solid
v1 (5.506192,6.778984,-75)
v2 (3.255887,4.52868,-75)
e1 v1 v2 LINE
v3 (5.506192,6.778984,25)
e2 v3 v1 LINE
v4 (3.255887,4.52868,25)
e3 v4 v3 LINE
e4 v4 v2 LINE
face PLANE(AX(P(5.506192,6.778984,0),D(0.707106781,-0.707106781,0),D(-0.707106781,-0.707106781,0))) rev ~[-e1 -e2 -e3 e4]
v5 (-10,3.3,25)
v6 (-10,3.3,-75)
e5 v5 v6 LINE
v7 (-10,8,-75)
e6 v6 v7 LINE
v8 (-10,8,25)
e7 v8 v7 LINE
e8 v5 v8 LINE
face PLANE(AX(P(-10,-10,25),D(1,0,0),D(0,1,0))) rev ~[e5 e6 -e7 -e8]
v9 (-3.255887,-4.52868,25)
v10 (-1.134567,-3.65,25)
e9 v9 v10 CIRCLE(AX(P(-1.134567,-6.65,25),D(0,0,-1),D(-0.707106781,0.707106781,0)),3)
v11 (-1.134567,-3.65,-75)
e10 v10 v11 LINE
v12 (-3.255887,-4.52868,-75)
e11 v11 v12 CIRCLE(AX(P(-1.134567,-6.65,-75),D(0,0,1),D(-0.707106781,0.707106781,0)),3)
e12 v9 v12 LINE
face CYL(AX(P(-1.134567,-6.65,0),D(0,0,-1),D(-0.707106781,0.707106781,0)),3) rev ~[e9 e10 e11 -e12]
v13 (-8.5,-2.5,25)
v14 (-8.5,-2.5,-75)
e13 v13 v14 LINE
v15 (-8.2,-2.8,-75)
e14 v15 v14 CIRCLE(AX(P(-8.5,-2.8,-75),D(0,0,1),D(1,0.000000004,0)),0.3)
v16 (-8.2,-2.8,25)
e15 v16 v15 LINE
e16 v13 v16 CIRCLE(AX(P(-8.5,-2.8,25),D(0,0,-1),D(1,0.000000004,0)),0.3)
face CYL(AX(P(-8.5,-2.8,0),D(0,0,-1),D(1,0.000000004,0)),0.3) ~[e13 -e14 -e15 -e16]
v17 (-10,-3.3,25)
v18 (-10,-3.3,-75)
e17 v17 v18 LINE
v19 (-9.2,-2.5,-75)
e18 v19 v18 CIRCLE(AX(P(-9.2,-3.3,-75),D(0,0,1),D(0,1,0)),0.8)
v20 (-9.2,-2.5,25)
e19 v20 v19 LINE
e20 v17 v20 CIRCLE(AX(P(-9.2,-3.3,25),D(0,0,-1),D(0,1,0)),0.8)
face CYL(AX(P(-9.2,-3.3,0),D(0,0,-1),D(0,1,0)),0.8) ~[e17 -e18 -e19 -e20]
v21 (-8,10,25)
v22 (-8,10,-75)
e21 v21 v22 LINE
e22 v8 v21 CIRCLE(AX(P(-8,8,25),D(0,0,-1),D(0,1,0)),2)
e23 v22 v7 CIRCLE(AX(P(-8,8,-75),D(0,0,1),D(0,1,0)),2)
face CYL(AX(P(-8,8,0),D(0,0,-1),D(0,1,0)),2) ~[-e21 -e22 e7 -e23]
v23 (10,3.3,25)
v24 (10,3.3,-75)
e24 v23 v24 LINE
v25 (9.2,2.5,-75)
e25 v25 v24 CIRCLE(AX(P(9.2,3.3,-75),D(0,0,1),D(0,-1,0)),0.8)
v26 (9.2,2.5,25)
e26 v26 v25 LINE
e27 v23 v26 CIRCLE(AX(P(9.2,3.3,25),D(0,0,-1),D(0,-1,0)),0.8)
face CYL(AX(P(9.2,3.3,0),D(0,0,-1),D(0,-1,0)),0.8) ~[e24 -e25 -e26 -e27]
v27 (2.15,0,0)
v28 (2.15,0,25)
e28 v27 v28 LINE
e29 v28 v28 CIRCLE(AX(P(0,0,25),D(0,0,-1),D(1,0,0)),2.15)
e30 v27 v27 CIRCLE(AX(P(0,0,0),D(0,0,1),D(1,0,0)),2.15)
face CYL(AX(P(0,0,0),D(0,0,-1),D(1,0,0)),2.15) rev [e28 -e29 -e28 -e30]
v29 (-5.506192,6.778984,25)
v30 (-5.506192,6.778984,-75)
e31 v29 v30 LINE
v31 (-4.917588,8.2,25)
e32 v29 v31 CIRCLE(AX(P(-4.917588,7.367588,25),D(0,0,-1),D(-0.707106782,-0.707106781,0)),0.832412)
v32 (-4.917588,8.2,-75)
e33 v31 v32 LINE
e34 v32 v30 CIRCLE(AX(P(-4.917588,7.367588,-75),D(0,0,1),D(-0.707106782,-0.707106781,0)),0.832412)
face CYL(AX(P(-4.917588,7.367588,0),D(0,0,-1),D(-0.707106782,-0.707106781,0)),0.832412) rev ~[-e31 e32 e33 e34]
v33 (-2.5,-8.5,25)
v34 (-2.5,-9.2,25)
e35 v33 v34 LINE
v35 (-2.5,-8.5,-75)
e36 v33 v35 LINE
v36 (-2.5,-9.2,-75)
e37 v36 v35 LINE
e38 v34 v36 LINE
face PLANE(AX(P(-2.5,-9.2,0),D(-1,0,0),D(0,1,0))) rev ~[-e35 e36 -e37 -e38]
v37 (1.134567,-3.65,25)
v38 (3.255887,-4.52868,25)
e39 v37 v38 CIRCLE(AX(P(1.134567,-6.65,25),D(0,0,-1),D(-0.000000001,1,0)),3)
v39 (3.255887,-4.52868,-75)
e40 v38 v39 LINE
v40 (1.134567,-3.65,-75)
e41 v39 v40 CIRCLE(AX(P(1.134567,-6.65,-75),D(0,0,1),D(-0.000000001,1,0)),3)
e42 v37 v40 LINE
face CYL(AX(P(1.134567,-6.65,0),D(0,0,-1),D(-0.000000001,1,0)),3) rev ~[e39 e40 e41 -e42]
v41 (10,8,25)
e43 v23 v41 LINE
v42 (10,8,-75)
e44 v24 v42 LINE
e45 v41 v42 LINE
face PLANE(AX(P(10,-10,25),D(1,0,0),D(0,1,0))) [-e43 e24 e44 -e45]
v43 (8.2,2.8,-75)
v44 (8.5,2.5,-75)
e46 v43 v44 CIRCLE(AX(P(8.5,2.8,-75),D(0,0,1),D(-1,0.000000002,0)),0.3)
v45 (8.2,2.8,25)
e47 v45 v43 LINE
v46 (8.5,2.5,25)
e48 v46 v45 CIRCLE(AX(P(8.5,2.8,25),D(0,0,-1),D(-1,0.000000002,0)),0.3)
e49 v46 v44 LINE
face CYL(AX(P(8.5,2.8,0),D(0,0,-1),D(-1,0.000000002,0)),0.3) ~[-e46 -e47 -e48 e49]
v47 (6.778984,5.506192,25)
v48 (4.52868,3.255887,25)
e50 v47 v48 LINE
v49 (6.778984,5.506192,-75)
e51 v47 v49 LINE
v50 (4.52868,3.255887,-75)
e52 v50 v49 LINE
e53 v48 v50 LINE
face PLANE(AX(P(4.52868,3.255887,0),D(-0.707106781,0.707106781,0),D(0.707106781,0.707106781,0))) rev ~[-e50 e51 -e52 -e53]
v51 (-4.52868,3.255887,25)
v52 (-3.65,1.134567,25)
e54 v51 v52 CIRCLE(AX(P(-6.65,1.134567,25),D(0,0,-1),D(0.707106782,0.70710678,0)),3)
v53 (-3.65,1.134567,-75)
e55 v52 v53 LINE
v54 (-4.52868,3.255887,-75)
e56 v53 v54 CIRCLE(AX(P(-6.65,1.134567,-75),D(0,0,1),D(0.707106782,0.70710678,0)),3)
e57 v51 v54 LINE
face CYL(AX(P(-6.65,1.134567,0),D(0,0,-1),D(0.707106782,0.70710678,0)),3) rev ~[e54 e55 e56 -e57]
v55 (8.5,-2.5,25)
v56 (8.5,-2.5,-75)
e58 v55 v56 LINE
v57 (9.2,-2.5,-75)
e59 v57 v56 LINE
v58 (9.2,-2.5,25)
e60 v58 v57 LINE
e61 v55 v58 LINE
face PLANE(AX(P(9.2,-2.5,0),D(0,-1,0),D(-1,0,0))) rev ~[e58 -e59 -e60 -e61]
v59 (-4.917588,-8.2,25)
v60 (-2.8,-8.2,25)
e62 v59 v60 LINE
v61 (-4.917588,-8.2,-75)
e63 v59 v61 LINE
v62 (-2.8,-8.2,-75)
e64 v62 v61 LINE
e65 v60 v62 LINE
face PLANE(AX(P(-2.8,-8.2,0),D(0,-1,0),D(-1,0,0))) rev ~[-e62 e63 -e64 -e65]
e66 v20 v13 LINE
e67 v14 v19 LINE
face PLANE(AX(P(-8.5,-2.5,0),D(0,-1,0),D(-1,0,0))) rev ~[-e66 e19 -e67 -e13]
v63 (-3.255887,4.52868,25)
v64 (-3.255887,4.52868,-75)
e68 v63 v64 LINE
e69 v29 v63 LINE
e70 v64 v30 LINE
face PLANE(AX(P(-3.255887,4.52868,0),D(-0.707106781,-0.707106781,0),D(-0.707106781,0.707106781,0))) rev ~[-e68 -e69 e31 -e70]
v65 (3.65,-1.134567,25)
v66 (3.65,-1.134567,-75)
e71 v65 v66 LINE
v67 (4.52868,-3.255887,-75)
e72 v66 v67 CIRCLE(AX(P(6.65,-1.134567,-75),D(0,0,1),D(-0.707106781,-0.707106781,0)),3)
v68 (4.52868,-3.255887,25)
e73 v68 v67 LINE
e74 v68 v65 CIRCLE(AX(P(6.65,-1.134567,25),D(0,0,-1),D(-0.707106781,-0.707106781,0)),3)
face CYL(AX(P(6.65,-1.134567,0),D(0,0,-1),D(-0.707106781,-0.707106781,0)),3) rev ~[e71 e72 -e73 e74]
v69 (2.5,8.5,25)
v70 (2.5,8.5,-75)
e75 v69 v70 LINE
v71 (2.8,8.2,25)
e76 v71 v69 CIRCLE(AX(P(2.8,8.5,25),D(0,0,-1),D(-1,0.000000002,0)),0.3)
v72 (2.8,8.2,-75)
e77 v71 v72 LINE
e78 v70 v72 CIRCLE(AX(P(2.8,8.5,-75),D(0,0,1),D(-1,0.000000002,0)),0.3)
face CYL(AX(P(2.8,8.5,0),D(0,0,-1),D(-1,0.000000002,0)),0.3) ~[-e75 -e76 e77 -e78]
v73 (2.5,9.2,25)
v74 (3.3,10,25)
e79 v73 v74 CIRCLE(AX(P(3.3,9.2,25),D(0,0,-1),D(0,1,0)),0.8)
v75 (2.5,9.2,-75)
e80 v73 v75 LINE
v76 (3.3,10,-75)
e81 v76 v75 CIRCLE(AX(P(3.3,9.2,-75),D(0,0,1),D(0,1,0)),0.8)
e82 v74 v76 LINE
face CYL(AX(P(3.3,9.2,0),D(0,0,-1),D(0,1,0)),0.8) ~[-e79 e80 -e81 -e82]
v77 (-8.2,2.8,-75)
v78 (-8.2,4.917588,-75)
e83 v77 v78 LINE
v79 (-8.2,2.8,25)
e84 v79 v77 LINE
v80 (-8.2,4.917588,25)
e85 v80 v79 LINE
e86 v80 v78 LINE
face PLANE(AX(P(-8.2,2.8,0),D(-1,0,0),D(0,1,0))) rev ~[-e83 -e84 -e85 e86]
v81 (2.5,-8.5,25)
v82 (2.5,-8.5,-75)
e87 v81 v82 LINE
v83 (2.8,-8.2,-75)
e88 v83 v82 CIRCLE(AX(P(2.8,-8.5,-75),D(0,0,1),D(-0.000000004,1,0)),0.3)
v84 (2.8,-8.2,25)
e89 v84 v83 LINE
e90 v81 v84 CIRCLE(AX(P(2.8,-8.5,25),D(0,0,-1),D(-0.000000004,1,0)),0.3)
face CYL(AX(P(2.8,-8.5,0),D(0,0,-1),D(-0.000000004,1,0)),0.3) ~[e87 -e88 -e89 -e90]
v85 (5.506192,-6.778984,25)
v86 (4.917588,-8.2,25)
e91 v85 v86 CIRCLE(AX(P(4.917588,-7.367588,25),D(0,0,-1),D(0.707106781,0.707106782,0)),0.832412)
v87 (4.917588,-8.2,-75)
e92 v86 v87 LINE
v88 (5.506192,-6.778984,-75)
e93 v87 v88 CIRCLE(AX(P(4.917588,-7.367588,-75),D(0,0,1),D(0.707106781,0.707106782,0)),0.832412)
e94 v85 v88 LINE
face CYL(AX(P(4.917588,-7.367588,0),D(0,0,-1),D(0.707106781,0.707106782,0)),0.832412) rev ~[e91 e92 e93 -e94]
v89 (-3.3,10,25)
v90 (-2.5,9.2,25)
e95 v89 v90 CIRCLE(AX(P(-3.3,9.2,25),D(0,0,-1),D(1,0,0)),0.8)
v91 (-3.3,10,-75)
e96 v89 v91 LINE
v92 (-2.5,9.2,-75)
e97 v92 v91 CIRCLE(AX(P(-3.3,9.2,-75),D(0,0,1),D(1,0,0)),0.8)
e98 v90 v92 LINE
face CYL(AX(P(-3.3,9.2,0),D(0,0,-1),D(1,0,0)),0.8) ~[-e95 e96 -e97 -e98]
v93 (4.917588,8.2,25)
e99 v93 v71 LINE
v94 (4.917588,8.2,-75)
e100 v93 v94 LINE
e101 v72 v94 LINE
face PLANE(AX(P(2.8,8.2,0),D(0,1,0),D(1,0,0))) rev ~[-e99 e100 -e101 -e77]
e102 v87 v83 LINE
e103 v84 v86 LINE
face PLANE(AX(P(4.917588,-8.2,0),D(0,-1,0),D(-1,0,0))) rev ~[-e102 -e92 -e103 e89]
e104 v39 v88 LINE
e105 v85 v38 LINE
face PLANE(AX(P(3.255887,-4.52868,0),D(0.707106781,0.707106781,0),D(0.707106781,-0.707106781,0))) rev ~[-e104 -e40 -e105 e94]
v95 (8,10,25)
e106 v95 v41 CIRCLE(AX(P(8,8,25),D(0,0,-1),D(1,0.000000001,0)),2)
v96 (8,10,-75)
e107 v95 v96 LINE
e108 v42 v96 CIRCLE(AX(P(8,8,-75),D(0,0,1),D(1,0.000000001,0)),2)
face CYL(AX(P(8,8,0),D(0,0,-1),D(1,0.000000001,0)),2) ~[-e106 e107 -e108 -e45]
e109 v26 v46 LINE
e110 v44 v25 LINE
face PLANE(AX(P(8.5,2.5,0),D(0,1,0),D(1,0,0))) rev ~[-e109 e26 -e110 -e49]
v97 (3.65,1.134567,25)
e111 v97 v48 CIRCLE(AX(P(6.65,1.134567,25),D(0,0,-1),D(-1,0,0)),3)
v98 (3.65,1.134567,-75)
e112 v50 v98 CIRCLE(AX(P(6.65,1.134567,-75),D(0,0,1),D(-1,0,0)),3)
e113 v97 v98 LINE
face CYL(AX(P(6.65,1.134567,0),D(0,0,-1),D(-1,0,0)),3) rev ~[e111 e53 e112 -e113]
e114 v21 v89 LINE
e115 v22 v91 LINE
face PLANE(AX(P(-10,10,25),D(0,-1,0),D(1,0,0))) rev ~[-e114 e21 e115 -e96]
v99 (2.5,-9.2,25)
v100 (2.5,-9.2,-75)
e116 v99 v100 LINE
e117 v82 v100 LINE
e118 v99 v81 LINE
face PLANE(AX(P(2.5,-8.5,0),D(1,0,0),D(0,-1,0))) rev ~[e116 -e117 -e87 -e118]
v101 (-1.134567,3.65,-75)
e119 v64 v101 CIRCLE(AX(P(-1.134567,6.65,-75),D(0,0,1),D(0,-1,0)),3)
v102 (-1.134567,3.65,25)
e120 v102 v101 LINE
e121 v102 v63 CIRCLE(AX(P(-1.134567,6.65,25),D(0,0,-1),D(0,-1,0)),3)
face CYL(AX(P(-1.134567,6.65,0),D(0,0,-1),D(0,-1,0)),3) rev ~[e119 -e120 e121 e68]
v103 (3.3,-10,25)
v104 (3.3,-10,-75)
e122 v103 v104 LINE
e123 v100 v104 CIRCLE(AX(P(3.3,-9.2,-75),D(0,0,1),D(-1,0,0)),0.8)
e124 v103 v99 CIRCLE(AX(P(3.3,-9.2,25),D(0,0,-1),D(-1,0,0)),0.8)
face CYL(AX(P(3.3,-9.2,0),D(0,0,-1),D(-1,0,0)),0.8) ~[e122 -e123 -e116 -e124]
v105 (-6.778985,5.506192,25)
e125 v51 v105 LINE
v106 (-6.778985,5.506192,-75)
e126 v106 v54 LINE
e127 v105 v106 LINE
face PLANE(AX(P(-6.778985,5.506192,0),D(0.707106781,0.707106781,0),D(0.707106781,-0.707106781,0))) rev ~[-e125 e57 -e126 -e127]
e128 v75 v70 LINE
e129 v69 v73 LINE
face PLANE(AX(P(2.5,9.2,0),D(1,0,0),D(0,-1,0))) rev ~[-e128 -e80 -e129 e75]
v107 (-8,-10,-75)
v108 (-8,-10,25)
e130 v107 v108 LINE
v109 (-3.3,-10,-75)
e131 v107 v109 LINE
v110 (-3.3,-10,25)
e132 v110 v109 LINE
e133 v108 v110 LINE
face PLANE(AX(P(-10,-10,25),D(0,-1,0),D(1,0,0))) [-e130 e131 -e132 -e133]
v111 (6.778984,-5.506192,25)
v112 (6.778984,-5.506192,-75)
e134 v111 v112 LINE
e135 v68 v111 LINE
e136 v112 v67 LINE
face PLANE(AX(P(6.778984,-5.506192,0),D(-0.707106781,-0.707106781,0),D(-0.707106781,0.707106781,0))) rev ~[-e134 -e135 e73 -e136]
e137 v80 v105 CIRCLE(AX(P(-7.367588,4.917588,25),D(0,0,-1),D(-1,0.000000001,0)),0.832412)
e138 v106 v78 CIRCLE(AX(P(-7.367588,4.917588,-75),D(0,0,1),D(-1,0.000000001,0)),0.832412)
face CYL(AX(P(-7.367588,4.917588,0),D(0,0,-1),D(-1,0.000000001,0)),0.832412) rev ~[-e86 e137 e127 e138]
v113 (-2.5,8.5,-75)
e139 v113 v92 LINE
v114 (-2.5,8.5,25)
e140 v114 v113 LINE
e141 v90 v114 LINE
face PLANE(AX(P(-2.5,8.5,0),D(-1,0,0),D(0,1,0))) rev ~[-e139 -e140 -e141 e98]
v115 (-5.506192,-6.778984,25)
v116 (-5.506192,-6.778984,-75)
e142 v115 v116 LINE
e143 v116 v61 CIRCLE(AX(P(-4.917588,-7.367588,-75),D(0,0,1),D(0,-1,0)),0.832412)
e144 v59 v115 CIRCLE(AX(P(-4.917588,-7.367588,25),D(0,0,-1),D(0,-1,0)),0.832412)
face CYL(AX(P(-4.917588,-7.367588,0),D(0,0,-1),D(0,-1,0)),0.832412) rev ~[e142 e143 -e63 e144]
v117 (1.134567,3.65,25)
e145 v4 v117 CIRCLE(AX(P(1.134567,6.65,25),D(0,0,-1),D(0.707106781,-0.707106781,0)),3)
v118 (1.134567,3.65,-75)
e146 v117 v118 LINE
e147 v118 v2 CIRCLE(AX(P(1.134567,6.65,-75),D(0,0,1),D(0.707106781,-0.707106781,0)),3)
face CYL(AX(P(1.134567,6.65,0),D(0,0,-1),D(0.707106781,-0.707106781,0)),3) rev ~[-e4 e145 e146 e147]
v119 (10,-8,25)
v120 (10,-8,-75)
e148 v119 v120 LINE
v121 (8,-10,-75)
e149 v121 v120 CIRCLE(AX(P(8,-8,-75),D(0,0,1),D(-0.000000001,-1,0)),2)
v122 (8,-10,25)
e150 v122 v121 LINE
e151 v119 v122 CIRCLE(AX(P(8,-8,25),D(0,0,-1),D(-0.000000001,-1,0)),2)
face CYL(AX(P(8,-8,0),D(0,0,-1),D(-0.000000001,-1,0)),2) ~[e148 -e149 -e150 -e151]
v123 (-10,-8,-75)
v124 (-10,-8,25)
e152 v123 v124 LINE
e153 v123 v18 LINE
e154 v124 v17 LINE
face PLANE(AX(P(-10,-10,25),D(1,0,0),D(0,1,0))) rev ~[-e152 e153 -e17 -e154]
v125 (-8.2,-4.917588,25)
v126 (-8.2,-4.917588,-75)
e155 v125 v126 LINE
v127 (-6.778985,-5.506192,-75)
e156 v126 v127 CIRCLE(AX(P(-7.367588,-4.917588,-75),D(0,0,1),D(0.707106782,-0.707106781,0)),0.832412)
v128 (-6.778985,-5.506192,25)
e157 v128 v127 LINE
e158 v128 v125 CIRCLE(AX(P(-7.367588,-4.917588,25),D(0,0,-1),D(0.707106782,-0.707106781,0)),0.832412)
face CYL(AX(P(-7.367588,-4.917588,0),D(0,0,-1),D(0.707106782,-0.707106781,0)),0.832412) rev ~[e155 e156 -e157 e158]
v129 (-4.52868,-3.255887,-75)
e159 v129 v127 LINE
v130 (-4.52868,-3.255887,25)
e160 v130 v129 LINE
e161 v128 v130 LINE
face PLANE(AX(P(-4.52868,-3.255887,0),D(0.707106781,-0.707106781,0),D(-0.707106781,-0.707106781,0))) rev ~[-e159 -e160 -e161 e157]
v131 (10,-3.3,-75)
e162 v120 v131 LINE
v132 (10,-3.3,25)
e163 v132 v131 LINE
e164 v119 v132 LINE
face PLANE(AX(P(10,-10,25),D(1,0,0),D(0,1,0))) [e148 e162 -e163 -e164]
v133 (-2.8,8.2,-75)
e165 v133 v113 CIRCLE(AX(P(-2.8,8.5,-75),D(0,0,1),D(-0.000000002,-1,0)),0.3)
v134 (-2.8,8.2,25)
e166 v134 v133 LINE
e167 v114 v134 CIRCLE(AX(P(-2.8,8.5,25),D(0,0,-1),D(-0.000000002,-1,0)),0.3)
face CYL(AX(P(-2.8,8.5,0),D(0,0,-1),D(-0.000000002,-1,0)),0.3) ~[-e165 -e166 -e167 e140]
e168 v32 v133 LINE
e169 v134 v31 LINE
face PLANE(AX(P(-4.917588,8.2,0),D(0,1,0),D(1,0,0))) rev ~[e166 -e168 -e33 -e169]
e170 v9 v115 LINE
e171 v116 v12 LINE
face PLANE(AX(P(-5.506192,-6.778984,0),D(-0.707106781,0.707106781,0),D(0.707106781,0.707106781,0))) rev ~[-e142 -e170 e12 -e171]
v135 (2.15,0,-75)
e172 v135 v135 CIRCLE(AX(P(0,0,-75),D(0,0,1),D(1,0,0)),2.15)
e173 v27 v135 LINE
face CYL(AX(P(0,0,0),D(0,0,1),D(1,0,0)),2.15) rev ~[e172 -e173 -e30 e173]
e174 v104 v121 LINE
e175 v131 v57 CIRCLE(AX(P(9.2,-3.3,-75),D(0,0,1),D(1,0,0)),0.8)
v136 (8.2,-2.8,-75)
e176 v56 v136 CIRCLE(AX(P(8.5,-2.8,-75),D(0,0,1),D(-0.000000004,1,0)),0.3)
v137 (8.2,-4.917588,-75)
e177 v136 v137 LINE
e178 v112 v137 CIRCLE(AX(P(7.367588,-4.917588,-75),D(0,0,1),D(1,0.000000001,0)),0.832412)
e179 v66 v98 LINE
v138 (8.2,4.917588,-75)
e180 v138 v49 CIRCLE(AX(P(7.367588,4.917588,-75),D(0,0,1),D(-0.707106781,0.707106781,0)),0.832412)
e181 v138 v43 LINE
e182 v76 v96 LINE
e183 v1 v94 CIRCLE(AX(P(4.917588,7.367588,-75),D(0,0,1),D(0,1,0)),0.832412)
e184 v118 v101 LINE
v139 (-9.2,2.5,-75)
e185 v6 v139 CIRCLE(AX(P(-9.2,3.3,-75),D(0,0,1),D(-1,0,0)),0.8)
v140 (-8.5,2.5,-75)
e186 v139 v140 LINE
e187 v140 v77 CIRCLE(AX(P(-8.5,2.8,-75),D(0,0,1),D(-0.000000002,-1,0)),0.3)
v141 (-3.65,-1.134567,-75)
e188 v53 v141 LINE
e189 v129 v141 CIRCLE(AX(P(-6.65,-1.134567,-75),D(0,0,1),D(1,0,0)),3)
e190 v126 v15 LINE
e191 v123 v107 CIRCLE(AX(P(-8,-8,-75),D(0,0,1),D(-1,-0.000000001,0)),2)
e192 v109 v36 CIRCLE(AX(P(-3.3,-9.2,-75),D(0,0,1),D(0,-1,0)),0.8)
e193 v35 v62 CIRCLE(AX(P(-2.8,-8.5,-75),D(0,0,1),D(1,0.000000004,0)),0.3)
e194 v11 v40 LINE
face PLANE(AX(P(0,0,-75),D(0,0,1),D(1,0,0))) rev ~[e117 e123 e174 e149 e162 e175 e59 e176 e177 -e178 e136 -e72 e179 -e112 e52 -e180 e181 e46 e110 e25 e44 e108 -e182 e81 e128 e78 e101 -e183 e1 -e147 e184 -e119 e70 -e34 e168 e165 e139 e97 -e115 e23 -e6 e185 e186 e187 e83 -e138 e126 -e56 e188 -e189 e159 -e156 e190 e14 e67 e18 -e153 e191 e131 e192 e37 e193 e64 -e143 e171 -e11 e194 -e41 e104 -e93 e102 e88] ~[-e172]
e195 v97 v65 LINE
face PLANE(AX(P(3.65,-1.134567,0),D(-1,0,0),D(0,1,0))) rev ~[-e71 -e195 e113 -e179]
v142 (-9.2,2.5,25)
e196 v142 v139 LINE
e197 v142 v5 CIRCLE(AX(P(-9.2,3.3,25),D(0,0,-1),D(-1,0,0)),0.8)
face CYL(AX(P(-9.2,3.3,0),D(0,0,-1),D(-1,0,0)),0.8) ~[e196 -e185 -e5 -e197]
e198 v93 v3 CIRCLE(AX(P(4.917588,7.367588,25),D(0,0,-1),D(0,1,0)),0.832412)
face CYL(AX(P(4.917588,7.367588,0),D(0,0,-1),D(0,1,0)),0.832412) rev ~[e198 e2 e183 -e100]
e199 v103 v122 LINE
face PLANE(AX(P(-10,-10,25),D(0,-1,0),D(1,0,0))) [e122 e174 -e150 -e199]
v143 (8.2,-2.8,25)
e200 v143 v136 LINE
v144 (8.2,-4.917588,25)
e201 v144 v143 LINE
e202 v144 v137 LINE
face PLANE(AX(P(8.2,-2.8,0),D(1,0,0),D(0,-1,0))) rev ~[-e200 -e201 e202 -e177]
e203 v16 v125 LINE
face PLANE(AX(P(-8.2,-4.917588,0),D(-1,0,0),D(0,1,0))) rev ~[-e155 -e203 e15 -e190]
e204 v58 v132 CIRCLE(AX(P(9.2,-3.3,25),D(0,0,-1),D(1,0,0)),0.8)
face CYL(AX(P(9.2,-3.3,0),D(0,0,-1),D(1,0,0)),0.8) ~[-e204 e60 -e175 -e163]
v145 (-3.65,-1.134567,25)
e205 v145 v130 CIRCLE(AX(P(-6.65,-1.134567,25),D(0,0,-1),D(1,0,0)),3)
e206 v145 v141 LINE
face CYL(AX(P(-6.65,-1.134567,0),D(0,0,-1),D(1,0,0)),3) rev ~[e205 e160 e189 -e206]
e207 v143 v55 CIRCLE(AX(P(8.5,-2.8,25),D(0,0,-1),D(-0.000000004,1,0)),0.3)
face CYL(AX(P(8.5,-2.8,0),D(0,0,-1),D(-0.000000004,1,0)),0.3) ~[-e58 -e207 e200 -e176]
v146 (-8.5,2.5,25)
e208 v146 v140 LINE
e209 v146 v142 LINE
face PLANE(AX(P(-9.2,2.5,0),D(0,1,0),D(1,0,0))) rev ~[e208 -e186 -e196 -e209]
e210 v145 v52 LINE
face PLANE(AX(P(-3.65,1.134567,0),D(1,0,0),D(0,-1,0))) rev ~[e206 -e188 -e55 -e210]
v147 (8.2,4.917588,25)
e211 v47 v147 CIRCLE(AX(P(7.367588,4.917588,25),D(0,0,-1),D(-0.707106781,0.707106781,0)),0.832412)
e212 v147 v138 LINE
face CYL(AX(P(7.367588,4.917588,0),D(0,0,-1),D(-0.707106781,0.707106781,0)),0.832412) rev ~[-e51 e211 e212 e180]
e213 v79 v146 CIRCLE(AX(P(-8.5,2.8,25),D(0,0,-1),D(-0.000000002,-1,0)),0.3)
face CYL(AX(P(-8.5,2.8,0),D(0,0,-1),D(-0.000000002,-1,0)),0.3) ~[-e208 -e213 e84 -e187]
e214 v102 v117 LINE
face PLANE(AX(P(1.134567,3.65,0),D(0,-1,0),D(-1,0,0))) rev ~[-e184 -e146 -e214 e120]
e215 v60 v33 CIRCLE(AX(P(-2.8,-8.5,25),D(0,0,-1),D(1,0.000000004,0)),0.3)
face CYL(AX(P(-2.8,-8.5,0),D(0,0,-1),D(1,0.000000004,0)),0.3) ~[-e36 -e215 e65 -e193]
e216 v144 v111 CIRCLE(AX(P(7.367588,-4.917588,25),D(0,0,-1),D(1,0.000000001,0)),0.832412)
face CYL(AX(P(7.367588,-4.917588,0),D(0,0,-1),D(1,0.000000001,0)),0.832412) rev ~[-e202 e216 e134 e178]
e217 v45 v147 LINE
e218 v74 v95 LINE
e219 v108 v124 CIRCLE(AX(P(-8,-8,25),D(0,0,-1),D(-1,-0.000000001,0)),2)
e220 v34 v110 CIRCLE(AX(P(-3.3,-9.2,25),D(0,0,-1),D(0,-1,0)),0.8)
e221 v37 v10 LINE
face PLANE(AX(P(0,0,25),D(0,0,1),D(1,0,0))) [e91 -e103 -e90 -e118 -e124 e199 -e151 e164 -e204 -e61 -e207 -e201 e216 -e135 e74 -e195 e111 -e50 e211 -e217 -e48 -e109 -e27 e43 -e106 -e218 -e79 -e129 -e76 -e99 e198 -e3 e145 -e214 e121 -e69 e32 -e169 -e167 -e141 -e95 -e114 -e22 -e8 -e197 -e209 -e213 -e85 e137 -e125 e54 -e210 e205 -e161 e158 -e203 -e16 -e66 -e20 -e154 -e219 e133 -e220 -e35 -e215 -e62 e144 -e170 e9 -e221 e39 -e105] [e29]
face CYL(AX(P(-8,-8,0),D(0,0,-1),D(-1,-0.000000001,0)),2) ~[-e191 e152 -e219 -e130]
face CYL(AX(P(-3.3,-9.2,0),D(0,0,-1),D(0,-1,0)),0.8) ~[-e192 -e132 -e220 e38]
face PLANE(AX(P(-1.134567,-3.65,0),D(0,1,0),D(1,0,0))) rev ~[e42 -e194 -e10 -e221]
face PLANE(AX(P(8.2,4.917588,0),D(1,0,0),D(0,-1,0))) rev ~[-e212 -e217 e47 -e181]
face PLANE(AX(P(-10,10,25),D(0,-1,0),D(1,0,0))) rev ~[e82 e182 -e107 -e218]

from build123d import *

# Parameters (mm, degrees)
SKETCH4_W              = 20
SKETCH4_H              = 20
BODY_DEPTH             = 100
SKETCH16_OUTSIDE_W     = 42.784
SKETCH16_OUTSIDE_H     = 42.784
SKETCH16_OUTSIDE_R     = 2.15
CUT_PROFILE_DEPTH      = 26
CUT_PROFILE_DEPTH_BACK = 76


with BuildPart() as part:
    # Sketch4 → Body (new body)
    with BuildSketch(Plane.XY.offset(25)):
        Rectangle(SKETCH4_W, SKETCH4_H)
    extrude(amount=-BODY_DEPTH)

    # Sketch16 outside → Cut-Profile (cut, two sides)
    with BuildSketch(Plane.XY) as cut_profile_sk:
        Rectangle(SKETCH16_OUTSIDE_W, SKETCH16_OUTSIDE_H)
        with BuildLine():
            Line((4.917588389, -8.199999991), (2.799999989, -8.199999991))
            ThreePointArc((2.799999989, -8.199999991), (2.587867955, -8.287867957), (2.499999989, -8.499999991))
            Line((2.499999989, -8.499999991), (2.499999989, -9.199999991))
            ThreePointArc((2.499999989, -9.199999991), (2.734314564, -9.765685416), (3.299999989, -9.999999991))
            Line((3.299999989, -9.999999991), (7.999999989, -9.999999991))
            ThreePointArc((7.999999989, -9.999999991), (9.414213552, -9.414213554), (9.999999989, -7.999999991))
            Line((9.999999989, -7.999999991), (9.999999989, -3.299999991))
            ThreePointArc((9.999999989, -3.299999991), (9.765685414, -2.734314566), (9.199999989, -2.499999991))
            Line((9.199999989, -2.499999991), (8.499999989, -2.499999991))
            ThreePointArc((8.499999989, -2.499999991), (8.287867955, -2.587867957), (8.199999989, -2.799999991))
            Line((8.199999989, -2.799999991), (8.199999989, -4.917588391))
            ThreePointArc((8.199999989, -4.917588391), (7.686138511, -5.686636441), (6.778984485, -5.506192286))
            Line((6.778984485, -5.506192286), (4.528679645, -3.255887446))
            ThreePointArc((4.528679645, -3.255887446), (3.878361392, -2.282617401), (3.64999999, -1.134567106))
            Line((3.64999999, -1.134567106), (3.64999999, 1.134567104))
            ThreePointArc((3.64999999, 1.134567104), (3.878361393, 2.282617402), (4.528679647, 3.255887448))
            Line((4.528679647, 3.255887448), (6.778984487, 5.506192288))
            ThreePointArc((6.778984487, 5.506192288), (7.686138506, 5.686636442), (8.199999981, 4.917588398))
            Line((8.199999981, 4.917588398), (8.199999981, 2.799999998))
            ThreePointArc((8.199999981, 2.799999998), (8.287867946, 2.587867964), (8.499999981, 2.499999998))
            Line((8.499999981, 2.499999998), (9.199999981, 2.499999998))
            ThreePointArc((9.199999981, 2.499999998), (9.765685406, 2.734314573), (9.999999981, 3.299999998))
            Line((9.999999981, 3.299999998), (9.999999981, 7.999999998))
            ThreePointArc((9.999999981, 7.999999998), (9.414213543, 9.41421356), (7.999999981, 9.999999998))
            Line((7.999999981, 9.999999998), (3.299999981, 9.999999998))
            ThreePointArc((3.299999981, 9.999999998), (2.734314556, 9.765685423), (2.499999981, 9.199999998))
            Line((2.499999981, 9.199999998), (2.499999981, 8.499999998))
            ThreePointArc((2.499999981, 8.499999998), (2.587867946, 8.287867964), (2.799999981, 8.199999998))
            Line((2.799999981, 8.199999998), (4.917588381, 8.199999998))
            ThreePointArc((4.917588381, 8.199999998), (5.68663643, 7.68613852), (5.506192275, 6.778984494))
            Line((5.506192275, 6.778984494), (3.255887435, 4.528679654))
            ThreePointArc((3.255887435, 4.528679654), (2.28261739, 3.878361401), (1.134567095, 3.649999999))
            Line((1.134567095, 3.649999999), (-1.134567115, 3.649999999))
            ThreePointArc((-1.134567115, 3.649999999), (-2.282617412, 3.878361401), (-3.255887459, 4.528679655))
            Line((-3.255887459, 4.528679655), (-5.506192299, 6.778984495))
            ThreePointArc((-5.506192299, 6.778984495), (-5.686636452, 7.686138515), (-4.917588409, 8.199999989))
            Line((-4.917588409, 8.199999989), (-2.800000009, 8.199999989))
            ThreePointArc((-2.800000009, 8.199999989), (-2.587867974, 8.287867955), (-2.500000009, 8.499999989))
            Line((-2.500000009, 8.499999989), (-2.500000009, 9.199999989))
            ThreePointArc((-2.500000009, 9.199999989), (-2.734314584, 9.765685414), (-3.300000009, 9.999999989))
            Line((-3.300000009, 9.999999989), (-8.000000009, 9.999999989))
            ThreePointArc((-8.000000009, 9.999999989), (-9.414213571, 9.414213552), (-10.000000009, 7.999999989))
            Line((-10.000000009, 7.999999989), (-10.000000009, 3.299999989))
            ThreePointArc((-10.000000009, 3.299999989), (-9.765685434, 2.734314564), (-9.200000009, 2.499999989))
            Line((-9.200000009, 2.499999989), (-8.500000009, 2.499999989))
            ThreePointArc((-8.500000009, 2.499999989), (-8.287867974, 2.587867955), (-8.200000009, 2.799999989))
            Line((-8.200000009, 2.799999989), (-8.200000009, 4.917588389))
            ThreePointArc((-8.200000009, 4.917588389), (-7.686138531, 5.686636438), (-6.778984504, 5.506192284))
            Line((-6.778984504, 5.506192284), (-4.528679664, 3.255887444))
            ThreePointArc((-4.528679664, 3.255887444), (-3.878361412, 2.282617399), (-3.650000009, 1.134567104))
            Line((-3.650000009, 1.134567104), (-3.650000009, -1.134567106))
            ThreePointArc((-3.650000009, -1.134567106), (-3.878361412, -2.282617404), (-4.528679666, -3.25588745))
            Line((-4.528679666, -3.25588745), (-6.778984506, -5.50619229))
            ThreePointArc((-6.778984506, -5.50619229), (-7.686138526, -5.686636444), (-8.2, -4.9175884))
            Line((-8.2, -4.9175884), (-8.2, -2.8))
            ThreePointArc((-8.2, -2.8), (-8.287867966, -2.587867966), (-8.5, -2.5))
            Line((-8.5, -2.5), (-9.2, -2.5))
            ThreePointArc((-9.2, -2.5), (-9.765685425, -2.734314575), (-10, -3.3))
            Line((-10, -3.3), (-10, -8))
            ThreePointArc((-10, -8), (-9.414213562, -9.414213562), (-8, -10))
            Line((-8, -10), (-3.3, -10))
            ThreePointArc((-3.3, -10), (-2.734314575, -9.765685425), (-2.5, -9.2))
            Line((-2.5, -9.2), (-2.5, -8.5))
            ThreePointArc((-2.5, -8.5), (-2.587867966, -8.287867966), (-2.8, -8.2))
            Line((-2.8, -8.2), (-4.9175884, -8.2))
            ThreePointArc((-4.9175884, -8.2), (-5.686636449, -7.686138522), (-5.506192294, -6.778984496))
            Line((-5.506192294, -6.778984496), (-3.255887454, -4.528679656))
            ThreePointArc((-3.255887454, -4.528679656), (-2.282617409, -3.878361403), (-1.134567114, -3.650000001))
            Line((-1.134567114, -3.650000001), (1.134567096, -3.650000001))
            ThreePointArc((1.134567096, -3.650000001), (2.282617393, -3.878361403), (3.255887439, -4.528679657))
            Line((3.255887439, -4.528679657), (5.506192279, -6.778984497))
            ThreePointArc((5.506192279, -6.778984497), (5.686636433, -7.686138517), (4.917588389, -8.199999991))
        make_face(mode=Mode.SUBTRACT)
        Circle(SKETCH16_OUTSIDE_R)
    extrude(amount=CUT_PROFILE_DEPTH, mode=Mode.SUBTRACT)
    extrude(cut_profile_sk.sketch, amount=-CUT_PROFILE_DEPTH_BACK, mode=Mode.SUBTRACT)


solid = part.part
